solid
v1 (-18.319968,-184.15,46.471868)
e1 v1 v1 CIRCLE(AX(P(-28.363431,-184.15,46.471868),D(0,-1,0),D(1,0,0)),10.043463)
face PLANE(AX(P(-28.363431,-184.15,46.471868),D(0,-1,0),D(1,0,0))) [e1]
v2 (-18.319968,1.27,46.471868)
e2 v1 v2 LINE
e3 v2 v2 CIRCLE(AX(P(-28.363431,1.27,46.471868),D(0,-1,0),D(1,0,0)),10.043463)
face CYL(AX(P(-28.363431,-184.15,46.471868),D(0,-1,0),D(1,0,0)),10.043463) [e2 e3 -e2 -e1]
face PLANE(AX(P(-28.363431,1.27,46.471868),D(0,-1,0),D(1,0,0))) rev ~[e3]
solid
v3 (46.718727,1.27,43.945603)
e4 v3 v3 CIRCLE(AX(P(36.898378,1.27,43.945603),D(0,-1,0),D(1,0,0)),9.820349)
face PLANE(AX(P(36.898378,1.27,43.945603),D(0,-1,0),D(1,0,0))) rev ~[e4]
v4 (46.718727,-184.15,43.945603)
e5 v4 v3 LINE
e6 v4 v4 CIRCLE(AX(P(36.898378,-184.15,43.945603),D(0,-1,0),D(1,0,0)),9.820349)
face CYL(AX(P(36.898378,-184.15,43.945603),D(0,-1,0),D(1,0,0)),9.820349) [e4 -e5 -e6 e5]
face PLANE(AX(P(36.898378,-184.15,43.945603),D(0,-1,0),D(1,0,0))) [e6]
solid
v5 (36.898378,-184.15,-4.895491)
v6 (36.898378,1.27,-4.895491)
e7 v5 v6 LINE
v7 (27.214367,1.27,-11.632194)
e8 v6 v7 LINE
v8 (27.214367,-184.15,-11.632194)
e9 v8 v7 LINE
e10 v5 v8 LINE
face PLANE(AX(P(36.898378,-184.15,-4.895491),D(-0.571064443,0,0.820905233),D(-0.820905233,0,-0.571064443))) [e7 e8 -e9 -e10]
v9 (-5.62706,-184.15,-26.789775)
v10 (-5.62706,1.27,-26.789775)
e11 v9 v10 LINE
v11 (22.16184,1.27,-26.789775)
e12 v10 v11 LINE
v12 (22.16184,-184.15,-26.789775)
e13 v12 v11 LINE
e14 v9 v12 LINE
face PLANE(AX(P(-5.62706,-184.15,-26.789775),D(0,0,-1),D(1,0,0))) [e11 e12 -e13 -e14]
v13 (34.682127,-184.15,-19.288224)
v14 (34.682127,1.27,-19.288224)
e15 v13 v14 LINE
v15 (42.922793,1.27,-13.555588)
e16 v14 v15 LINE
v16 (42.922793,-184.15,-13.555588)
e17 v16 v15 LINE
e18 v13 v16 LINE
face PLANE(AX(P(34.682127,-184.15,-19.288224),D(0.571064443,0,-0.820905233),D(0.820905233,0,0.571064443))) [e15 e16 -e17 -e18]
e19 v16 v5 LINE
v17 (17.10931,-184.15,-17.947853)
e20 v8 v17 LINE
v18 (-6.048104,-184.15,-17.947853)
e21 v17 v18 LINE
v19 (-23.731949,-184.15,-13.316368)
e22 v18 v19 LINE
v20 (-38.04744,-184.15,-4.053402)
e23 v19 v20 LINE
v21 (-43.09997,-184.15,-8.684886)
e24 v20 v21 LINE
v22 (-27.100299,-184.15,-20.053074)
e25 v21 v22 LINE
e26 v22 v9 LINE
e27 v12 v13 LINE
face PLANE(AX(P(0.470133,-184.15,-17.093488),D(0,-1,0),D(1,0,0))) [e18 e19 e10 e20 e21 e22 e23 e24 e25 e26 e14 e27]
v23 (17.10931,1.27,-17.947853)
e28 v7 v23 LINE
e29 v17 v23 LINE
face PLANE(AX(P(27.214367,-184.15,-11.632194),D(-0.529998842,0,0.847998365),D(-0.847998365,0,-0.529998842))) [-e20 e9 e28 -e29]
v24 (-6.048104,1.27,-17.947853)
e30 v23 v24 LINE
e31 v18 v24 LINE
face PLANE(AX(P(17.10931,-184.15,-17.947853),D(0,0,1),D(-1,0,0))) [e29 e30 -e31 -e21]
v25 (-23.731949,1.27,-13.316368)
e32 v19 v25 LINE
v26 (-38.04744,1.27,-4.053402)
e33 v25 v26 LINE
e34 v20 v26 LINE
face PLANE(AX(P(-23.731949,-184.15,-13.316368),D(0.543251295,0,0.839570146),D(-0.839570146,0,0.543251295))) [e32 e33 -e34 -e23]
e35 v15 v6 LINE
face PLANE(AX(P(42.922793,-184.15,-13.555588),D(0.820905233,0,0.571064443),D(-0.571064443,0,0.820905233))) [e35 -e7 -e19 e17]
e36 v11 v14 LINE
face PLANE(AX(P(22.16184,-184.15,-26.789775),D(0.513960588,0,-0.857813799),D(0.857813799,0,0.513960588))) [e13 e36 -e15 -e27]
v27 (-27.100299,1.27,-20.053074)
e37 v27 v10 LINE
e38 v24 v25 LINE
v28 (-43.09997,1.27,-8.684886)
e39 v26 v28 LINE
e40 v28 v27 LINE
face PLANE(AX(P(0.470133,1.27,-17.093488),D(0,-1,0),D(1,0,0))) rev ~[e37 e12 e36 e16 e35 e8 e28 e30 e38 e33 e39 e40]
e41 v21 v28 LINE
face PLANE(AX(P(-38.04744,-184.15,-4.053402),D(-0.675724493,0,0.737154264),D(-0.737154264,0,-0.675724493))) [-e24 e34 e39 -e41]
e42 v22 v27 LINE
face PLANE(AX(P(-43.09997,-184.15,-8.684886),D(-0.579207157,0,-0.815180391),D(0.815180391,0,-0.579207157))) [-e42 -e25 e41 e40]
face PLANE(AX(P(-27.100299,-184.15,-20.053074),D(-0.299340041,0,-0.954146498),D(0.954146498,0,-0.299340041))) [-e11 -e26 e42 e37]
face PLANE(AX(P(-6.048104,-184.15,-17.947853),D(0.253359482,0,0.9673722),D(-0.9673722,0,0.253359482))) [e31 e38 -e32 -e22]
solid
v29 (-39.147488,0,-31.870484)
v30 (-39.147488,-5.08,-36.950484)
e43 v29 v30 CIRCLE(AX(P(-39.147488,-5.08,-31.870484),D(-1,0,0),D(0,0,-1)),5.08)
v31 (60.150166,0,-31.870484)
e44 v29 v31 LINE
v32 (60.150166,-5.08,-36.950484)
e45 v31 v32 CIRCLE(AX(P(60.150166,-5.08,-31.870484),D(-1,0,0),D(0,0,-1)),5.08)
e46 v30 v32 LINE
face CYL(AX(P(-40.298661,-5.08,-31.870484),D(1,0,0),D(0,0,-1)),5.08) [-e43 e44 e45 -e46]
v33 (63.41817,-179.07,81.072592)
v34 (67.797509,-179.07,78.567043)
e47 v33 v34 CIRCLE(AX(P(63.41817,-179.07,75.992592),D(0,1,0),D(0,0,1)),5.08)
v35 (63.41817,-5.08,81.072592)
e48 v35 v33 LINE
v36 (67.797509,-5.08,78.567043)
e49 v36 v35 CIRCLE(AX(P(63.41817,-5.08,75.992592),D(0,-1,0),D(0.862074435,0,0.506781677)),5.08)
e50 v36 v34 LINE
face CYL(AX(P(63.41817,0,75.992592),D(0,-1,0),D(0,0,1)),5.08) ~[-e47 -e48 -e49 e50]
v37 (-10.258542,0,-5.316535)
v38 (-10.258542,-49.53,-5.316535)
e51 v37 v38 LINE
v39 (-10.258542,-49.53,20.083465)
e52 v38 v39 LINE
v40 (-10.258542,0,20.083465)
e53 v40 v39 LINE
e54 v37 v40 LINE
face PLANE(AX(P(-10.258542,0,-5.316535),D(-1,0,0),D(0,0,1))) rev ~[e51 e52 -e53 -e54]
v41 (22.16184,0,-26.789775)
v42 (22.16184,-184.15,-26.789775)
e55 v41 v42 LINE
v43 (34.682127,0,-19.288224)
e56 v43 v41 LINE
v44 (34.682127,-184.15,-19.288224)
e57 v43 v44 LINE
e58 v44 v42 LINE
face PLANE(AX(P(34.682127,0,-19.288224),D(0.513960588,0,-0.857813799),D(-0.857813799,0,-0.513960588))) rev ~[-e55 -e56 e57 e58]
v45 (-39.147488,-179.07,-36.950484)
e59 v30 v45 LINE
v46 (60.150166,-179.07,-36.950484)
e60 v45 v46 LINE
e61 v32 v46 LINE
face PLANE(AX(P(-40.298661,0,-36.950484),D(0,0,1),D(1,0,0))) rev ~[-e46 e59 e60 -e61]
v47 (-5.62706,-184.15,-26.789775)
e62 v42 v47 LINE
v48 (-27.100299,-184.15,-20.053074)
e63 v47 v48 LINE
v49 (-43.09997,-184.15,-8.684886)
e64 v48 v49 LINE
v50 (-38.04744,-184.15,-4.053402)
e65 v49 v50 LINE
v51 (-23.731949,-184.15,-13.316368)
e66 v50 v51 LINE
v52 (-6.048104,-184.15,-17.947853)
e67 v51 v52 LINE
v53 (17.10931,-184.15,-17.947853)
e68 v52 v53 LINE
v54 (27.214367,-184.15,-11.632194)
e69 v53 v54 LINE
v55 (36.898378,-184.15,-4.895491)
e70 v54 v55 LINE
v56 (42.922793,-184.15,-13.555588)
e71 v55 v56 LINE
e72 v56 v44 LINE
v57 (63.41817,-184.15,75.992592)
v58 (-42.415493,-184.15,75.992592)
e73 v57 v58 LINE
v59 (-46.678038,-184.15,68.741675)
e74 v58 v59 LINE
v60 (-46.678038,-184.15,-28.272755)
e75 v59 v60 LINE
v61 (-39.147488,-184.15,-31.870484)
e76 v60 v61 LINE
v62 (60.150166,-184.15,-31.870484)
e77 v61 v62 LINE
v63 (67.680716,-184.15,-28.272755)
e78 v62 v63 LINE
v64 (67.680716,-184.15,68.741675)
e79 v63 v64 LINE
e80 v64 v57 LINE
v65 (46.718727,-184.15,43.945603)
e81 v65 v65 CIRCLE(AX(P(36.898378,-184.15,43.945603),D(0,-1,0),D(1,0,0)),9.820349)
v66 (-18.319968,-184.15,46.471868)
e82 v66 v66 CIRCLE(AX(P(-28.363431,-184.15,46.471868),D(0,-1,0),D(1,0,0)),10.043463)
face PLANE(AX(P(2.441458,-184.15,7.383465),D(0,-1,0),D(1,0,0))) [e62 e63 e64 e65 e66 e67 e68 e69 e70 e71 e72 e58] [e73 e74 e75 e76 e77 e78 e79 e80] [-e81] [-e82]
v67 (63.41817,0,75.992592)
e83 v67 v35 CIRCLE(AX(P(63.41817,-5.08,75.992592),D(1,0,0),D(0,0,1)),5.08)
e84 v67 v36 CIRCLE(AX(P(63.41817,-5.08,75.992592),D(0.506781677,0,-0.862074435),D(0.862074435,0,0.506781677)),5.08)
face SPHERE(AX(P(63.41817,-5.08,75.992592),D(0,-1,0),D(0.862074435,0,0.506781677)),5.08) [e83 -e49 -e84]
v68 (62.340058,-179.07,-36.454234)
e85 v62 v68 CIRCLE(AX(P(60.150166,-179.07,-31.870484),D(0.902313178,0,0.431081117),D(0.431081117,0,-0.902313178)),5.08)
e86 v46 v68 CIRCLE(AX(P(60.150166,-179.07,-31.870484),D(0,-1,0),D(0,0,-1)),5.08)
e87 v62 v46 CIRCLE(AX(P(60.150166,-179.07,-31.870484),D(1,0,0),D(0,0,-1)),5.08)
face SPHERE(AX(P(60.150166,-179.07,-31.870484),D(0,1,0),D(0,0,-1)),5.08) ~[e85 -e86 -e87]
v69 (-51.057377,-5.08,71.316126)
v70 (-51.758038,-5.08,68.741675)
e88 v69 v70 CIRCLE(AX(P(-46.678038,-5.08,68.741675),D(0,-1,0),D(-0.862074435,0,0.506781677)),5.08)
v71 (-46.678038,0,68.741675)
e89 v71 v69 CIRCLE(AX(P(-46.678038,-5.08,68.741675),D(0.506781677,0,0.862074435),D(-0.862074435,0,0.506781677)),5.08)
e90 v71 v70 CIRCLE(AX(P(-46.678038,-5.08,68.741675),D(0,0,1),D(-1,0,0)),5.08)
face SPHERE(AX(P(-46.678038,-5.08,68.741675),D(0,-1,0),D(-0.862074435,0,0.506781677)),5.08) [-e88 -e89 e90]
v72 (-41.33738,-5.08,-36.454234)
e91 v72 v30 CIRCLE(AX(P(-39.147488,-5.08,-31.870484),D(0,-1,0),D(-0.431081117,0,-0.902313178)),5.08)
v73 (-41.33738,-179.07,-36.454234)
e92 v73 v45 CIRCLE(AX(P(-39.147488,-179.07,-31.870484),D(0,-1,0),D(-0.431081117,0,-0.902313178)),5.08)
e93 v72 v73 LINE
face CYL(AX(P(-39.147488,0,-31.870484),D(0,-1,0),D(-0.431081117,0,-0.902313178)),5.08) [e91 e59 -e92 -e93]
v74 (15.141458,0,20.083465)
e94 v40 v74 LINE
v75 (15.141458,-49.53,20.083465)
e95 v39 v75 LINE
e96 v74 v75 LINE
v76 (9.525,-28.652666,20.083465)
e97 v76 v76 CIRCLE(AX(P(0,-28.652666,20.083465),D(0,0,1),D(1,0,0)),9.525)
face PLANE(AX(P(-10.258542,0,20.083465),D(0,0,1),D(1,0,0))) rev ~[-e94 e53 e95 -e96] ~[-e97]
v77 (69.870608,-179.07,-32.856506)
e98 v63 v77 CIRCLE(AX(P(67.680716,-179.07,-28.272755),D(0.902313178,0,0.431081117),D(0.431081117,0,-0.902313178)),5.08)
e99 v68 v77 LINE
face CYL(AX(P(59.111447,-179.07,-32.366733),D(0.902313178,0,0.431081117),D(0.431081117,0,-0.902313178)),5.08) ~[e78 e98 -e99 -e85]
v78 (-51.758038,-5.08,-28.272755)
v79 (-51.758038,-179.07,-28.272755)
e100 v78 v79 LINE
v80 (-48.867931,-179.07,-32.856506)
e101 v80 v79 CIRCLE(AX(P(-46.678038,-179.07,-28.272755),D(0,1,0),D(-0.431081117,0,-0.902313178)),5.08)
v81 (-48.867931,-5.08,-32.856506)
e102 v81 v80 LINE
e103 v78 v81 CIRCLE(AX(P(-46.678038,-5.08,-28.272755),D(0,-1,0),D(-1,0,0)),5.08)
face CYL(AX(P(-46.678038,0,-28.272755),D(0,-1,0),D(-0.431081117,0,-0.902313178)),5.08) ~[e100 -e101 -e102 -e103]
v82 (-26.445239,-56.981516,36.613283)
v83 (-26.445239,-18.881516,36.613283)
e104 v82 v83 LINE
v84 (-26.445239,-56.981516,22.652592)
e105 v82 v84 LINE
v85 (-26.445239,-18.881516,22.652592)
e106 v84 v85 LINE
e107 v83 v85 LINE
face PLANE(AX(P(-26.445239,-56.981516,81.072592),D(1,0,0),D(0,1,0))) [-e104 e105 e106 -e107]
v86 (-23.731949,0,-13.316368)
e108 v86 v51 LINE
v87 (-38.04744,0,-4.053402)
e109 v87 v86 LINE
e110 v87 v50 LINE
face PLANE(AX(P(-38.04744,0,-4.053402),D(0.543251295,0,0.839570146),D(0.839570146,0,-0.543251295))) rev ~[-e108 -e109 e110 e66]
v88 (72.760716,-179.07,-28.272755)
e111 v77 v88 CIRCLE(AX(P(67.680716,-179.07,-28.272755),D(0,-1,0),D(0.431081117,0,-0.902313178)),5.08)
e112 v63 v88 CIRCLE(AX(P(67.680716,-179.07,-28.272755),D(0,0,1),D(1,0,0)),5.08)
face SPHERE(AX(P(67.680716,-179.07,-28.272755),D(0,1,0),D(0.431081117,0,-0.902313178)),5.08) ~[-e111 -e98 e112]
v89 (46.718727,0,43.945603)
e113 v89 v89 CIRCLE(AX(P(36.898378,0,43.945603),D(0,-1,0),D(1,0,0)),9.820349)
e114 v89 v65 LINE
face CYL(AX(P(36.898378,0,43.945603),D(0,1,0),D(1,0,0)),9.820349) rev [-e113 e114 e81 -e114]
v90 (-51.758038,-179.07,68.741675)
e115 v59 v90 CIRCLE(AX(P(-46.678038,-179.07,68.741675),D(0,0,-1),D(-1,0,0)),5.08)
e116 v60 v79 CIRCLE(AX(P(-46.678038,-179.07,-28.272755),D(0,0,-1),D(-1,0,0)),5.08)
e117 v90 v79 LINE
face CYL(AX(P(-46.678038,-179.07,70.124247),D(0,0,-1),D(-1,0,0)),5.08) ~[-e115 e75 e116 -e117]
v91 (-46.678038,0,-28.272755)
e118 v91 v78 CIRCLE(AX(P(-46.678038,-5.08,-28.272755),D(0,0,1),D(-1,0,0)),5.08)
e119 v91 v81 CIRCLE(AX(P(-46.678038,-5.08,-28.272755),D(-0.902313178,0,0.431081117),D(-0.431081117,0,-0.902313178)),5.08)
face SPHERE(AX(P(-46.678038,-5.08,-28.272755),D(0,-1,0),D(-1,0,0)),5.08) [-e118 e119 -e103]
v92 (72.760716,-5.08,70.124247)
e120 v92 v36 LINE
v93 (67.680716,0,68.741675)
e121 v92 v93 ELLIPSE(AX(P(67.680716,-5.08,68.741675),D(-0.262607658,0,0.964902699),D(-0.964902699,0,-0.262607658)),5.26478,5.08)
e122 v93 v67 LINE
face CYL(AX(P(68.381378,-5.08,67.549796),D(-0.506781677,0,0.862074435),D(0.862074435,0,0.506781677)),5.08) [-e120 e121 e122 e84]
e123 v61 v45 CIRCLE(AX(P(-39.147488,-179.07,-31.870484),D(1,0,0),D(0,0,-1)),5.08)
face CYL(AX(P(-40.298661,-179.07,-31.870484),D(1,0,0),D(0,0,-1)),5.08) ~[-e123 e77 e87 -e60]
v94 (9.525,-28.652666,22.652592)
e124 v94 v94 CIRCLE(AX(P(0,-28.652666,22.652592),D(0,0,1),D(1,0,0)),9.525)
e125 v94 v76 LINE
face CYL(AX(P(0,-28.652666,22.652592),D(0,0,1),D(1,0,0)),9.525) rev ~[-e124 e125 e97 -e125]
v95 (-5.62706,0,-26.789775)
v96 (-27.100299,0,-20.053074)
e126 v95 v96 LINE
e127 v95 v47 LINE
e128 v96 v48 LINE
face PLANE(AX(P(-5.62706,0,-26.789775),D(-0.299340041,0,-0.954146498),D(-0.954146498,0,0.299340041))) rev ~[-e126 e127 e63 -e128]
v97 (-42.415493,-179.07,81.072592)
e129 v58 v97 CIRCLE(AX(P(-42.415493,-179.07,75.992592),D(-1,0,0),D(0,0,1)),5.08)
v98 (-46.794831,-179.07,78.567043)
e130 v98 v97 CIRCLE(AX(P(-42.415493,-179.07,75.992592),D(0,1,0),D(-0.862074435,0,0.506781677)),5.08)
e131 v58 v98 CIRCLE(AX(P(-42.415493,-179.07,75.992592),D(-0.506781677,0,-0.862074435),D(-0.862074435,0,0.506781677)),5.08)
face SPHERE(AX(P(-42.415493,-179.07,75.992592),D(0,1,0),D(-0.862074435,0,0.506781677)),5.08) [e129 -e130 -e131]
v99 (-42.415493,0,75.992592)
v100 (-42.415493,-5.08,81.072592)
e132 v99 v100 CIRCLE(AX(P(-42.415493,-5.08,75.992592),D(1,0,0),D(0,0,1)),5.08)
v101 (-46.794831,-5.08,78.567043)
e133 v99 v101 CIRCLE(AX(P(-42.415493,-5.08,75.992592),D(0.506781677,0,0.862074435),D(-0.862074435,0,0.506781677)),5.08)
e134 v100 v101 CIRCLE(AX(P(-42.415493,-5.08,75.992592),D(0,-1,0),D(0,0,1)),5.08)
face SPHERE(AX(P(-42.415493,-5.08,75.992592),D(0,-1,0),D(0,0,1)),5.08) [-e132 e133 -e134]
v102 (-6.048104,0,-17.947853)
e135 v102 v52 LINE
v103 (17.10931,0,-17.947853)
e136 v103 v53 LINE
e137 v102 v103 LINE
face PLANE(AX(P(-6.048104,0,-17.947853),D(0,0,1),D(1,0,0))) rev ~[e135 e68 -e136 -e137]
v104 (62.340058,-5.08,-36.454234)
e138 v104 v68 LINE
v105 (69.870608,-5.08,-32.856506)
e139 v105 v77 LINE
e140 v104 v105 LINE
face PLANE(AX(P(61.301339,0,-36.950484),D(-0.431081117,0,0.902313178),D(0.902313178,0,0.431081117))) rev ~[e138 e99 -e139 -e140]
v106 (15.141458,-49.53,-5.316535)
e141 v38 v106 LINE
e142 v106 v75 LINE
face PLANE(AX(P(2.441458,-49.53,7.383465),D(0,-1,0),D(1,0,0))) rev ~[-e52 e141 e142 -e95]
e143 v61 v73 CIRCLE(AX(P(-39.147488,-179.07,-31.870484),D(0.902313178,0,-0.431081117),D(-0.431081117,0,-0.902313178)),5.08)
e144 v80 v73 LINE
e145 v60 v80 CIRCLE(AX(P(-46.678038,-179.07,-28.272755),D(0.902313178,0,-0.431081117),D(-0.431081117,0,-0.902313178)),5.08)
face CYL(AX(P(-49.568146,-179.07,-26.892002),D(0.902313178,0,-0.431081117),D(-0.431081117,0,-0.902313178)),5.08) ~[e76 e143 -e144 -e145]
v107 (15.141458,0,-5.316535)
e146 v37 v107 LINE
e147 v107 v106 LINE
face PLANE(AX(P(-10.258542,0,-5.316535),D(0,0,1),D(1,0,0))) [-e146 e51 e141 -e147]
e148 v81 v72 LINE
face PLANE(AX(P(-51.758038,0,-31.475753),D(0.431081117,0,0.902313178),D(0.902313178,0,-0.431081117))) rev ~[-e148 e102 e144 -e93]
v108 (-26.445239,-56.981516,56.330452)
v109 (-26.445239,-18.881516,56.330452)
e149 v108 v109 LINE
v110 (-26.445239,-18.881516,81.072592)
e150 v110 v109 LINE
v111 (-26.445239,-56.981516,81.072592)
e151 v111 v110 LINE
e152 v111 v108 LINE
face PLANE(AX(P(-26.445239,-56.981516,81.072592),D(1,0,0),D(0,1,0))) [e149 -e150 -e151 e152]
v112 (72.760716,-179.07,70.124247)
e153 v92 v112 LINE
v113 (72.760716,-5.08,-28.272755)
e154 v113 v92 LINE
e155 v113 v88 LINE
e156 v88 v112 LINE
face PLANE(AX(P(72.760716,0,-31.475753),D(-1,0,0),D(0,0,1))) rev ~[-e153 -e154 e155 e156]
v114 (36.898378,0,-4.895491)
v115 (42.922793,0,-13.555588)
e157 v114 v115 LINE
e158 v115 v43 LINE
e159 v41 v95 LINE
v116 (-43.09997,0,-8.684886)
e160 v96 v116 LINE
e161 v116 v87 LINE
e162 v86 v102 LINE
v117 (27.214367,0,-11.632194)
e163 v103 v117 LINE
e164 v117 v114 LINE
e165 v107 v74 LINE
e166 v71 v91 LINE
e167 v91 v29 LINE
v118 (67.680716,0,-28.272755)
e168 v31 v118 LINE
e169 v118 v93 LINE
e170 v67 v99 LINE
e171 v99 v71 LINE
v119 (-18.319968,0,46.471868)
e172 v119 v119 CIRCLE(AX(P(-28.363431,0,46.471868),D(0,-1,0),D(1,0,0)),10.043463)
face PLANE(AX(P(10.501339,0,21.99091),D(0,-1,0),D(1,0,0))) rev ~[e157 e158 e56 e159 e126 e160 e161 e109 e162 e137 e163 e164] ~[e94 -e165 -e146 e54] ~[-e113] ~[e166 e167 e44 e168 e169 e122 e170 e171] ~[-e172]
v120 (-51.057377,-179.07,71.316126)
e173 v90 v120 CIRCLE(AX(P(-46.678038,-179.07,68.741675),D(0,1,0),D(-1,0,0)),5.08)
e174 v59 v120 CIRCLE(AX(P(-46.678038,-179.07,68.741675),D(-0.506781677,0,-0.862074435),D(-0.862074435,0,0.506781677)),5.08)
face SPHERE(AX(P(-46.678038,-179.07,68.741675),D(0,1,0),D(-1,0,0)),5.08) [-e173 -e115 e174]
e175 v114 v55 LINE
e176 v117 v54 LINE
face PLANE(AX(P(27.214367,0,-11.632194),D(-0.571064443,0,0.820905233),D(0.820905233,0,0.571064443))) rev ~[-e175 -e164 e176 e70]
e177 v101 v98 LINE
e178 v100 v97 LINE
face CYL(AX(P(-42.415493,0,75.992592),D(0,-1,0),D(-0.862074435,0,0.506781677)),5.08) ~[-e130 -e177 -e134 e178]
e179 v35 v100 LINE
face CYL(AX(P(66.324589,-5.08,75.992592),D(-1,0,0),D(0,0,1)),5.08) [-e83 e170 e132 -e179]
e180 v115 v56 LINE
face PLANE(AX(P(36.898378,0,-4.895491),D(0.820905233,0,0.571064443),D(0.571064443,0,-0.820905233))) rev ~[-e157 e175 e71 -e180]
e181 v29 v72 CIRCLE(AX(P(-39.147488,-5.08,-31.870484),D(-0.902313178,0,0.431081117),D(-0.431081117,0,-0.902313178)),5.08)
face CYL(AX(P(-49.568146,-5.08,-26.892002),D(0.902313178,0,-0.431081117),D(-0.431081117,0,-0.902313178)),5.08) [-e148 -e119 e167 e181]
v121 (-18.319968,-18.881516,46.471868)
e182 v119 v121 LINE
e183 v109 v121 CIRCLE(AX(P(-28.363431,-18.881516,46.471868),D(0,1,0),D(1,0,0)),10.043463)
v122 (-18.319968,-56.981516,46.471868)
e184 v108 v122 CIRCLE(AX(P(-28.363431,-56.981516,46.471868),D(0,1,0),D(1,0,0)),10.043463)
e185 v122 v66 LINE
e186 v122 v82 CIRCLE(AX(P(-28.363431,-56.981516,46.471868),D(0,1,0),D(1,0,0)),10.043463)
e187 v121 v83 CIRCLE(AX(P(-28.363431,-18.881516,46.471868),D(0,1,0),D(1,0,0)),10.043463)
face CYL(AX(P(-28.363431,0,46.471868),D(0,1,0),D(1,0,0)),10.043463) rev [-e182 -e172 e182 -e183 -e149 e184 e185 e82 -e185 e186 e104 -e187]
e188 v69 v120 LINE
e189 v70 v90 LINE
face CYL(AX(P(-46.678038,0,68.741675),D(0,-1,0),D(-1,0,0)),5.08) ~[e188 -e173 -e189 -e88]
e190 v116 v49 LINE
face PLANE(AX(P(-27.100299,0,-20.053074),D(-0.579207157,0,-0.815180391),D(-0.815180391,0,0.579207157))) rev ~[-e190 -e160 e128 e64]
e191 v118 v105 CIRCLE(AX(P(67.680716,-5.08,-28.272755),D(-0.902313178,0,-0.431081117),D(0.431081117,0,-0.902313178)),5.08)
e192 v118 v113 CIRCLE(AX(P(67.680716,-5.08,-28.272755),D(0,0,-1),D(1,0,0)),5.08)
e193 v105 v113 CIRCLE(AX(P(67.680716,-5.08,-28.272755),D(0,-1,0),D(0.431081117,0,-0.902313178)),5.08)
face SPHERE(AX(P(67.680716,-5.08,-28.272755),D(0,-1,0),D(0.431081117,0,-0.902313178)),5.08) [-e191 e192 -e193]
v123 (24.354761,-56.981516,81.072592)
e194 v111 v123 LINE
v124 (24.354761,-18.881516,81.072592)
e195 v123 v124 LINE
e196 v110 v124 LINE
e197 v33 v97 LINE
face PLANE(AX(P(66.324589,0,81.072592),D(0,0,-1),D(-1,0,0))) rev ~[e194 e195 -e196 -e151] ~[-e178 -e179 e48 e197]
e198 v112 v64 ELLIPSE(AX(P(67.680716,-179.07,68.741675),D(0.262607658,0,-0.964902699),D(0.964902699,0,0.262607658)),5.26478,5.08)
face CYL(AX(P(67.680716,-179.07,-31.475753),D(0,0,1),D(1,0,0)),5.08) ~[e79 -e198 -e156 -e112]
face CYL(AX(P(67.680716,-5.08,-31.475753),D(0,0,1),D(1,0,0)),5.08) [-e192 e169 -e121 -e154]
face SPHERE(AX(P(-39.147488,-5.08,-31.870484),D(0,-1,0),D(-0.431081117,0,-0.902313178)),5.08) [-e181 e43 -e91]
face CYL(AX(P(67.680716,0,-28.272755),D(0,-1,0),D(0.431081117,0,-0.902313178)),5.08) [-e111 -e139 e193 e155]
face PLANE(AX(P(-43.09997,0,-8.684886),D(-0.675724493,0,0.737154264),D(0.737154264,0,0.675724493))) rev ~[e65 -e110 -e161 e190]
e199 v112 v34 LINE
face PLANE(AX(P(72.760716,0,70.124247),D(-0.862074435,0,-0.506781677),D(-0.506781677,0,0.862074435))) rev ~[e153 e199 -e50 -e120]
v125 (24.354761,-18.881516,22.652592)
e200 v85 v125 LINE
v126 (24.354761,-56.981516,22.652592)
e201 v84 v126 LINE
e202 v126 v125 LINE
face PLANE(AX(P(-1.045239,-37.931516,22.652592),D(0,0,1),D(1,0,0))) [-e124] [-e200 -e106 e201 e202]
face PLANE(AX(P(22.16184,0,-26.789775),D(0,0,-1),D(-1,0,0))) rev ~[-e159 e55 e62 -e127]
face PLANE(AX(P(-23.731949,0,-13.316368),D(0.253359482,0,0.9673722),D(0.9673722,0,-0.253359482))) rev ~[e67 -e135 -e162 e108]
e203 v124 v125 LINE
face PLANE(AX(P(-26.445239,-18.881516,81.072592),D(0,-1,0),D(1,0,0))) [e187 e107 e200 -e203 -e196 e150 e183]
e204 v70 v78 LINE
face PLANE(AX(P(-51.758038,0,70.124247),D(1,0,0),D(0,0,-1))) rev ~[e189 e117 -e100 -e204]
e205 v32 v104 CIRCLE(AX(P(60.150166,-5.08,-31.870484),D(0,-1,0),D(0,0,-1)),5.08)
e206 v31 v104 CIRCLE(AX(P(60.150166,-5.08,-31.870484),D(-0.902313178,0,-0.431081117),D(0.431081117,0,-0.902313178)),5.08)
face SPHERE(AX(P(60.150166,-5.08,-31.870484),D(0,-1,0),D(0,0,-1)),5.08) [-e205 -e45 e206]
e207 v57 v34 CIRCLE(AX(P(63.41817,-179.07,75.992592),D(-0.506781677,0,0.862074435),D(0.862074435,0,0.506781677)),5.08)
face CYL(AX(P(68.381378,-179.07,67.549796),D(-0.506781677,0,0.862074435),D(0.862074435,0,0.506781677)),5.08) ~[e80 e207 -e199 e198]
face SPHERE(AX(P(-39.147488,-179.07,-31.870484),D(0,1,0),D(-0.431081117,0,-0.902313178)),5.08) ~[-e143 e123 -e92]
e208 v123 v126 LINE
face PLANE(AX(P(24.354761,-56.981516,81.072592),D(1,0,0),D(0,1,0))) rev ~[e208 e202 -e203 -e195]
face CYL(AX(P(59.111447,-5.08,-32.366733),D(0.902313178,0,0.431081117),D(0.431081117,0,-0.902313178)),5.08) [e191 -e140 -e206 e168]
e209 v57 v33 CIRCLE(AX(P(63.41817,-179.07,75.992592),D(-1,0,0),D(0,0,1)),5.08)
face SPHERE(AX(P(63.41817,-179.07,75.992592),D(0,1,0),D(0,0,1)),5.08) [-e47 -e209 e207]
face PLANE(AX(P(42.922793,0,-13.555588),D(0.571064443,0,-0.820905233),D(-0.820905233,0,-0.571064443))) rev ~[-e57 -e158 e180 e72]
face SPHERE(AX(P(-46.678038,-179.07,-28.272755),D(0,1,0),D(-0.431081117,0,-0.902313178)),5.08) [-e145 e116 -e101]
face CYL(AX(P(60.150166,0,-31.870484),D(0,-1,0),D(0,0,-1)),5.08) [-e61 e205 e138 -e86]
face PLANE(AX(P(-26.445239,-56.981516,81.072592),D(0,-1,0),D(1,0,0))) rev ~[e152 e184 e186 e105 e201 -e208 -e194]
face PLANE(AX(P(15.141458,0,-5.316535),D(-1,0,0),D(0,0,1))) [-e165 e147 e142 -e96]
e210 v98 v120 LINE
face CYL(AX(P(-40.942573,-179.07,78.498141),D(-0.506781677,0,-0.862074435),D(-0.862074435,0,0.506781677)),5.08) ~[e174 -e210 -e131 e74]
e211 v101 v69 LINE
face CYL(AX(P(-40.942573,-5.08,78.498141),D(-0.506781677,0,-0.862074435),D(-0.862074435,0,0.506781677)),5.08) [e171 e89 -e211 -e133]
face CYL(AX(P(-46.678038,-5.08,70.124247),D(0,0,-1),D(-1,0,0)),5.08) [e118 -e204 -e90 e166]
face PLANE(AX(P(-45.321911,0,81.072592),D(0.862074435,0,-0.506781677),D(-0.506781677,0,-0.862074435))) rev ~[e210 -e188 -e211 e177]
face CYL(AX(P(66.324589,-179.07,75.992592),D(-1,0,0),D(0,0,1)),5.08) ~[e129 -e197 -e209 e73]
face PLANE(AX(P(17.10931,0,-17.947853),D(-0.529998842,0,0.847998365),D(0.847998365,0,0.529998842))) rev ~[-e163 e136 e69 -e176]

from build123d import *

# Parameters (mm, degrees)
F0_W      = 25.4
F0_H      = 25.4
F0_R      = 10.043463073
F0_R_2    = 9.820348736
F1_DEPTH  = 184.15
F2_R      = 5.08
F3_R      = 10.043463073
F4_DEPTH  = 185.42
F3_R_2    = 9.820348736
F5_W      = 25.4
F5_H      = 25.4
F6_DEPTH  = 134.62
F7_W      = 50.8
F7_H      = 38.1
F8_DEPTH  = 58.42
F10_R     = 9.525
F11_DEPTH = 25.4


with BuildPart() as f1:
    # F0 (on Front) → F1 (new body)
    with BuildSketch(Plane.XZ):
        Polygon((-51.7580384496, -31.4757533676), (-40.2986610914, -36.9504835493), (61.3013389086, -36.9504835493), (72.7607162668, -31.4757533676), (72.7607162668, 70.1242466324), (66.3245889743, 81.0725919628), (-45.321911157, 81.0725919628), (-51.7580384496, 70.1242466324), align=None)
        Polygon((-43.0999696255, -8.6848856881), (-38.0474403501, -4.0534022264), (-23.7319488078, -13.3163677529), (-6.0481042601, -17.9478526115), (17.1093102545, -17.9478526115), (27.2143669426, -11.6321938112), (36.8983782828, -4.8954910599), (42.9227925135, -13.5555875316), (34.6821272495, -19.2882235651), (22.1618395299, -26.7897751182), (-5.6270603091, -26.7897751182), (-27.1002985537, -20.0530737638), align=None, mode=Mode.SUBTRACT)
        with Locations((2.4414576262, 7.3834645234)):
            Rectangle(F0_W, F0_H, mode=Mode.SUBTRACT)
        with Locations((-28.3634308726, 46.4718677104)):
            Circle(F0_R, mode=Mode.SUBTRACT)
        with Locations((36.8983782828, 43.9456030726)):
            Circle(F0_R_2, mode=Mode.SUBTRACT)
    extrude(amount=F1_DEPTH)

    # F2
    f2_edges = [f1.edges().sort_by_distance(p)[0] for p in [
        (69.542653, 0, 75.598419),
        (10.501339, 0, 81.072592),
        (-48.539975, 0, 75.598419),
        (-51.758038, 0, 19.324247),
        (-46.02835, 0, -34.213118),
        (10.501339, 0, -36.950484),
        (67.031028, 0, -34.213118),
        (72.760716, 0, 19.324247),
        (-51.758038, -92.075, 70.124247),
        (-45.321911, -92.075, 81.072592),
        (-51.758038, -92.075, -31.475753),
        (-40.298661, -92.075, -36.950484),
        (-46.02835, -184.15, -34.213118),
        (-51.758038, -184.15, 19.324247),
        (-48.539975, -184.15, 75.598419),
        (72.760716, -92.075, -31.475753),
        (10.501339, -184.15, -36.950484),
        (67.031028, -184.15, -34.213118),
        (72.760716, -184.15, 19.324247),
        (10.501339, -184.15, 81.072592),
        (69.542653, -184.15, 75.598419),
        (66.324589, -92.075, 81.072592),
        (61.301339, -92.075, -36.950484),
    ]]
    fillet(f2_edges, radius=F2_R)

    # F5 (on face) → F6 (join)
    with BuildSketch(Plane.XZ.offset(184.15)):
        with Locations((2.4414576262, 7.3834645234)):
            Rectangle(F5_W, F5_H)
    extrude(amount=-F6_DEPTH)

    # F7 (on face) → F8 (cut)
    with BuildSketch(Plane.XY.offset(81.0725919628)):
        with Locations((-1.045239158, -37.9315156187)):
            Rectangle(F7_W, F7_H)
    extrude(amount=-F8_DEPTH, mode=Mode.SUBTRACT)

    # F10 (on face) → F11 (cut)
    with BuildSketch(Plane.XY.offset(22.6525919628)):
        with Locations((0, -28.652665766)):
            Circle(F10_R)
    extrude(amount=-F11_DEPTH, mode=Mode.SUBTRACT)


with BuildPart() as f4:
    # F3 (on face) → F4 (new body)
    with BuildSketch(Plane.XZ.offset(184.15)):
        with Locations((-28.3634308726, 46.4718677104)):
            Circle(F3_R)
    extrude(amount=-F4_DEPTH)


with BuildPart() as f4b:
    # F3 (on face) → F4, piece 2 (new body)
    with BuildSketch(Plane.XZ.offset(184.15)):
        with Locations((36.8983782828, 43.9456030726)):
            Circle(F3_R_2)
    extrude(amount=-F4_DEPTH)


with BuildPart() as f4c:
    # F3 (on face) → F4, piece 3 (new body)
    with BuildSketch(Plane.XZ.offset(184.15)):
        Polygon((-27.1002985537, -20.0530737638), (-5.6270603091, -26.7897751182), (22.1618395299, -26.7897751182), (34.6821272495, -19.2882235651), (42.9227925135, -13.5555875316), (36.8983782828, -4.8954910599), (27.2143669426, -11.6321938112), (17.1093102545, -17.9478526115), (-6.0481042601, -17.9478526115), (-23.7319488078, -13.3163677529), (-38.0474403501, -4.0534022264), (-43.0999696255, -8.6848856881), align=None)
    extrude(amount=-F4_DEPTH)


solid = Compound([f1.part, f4.part, f4b.part, f4c.part])
